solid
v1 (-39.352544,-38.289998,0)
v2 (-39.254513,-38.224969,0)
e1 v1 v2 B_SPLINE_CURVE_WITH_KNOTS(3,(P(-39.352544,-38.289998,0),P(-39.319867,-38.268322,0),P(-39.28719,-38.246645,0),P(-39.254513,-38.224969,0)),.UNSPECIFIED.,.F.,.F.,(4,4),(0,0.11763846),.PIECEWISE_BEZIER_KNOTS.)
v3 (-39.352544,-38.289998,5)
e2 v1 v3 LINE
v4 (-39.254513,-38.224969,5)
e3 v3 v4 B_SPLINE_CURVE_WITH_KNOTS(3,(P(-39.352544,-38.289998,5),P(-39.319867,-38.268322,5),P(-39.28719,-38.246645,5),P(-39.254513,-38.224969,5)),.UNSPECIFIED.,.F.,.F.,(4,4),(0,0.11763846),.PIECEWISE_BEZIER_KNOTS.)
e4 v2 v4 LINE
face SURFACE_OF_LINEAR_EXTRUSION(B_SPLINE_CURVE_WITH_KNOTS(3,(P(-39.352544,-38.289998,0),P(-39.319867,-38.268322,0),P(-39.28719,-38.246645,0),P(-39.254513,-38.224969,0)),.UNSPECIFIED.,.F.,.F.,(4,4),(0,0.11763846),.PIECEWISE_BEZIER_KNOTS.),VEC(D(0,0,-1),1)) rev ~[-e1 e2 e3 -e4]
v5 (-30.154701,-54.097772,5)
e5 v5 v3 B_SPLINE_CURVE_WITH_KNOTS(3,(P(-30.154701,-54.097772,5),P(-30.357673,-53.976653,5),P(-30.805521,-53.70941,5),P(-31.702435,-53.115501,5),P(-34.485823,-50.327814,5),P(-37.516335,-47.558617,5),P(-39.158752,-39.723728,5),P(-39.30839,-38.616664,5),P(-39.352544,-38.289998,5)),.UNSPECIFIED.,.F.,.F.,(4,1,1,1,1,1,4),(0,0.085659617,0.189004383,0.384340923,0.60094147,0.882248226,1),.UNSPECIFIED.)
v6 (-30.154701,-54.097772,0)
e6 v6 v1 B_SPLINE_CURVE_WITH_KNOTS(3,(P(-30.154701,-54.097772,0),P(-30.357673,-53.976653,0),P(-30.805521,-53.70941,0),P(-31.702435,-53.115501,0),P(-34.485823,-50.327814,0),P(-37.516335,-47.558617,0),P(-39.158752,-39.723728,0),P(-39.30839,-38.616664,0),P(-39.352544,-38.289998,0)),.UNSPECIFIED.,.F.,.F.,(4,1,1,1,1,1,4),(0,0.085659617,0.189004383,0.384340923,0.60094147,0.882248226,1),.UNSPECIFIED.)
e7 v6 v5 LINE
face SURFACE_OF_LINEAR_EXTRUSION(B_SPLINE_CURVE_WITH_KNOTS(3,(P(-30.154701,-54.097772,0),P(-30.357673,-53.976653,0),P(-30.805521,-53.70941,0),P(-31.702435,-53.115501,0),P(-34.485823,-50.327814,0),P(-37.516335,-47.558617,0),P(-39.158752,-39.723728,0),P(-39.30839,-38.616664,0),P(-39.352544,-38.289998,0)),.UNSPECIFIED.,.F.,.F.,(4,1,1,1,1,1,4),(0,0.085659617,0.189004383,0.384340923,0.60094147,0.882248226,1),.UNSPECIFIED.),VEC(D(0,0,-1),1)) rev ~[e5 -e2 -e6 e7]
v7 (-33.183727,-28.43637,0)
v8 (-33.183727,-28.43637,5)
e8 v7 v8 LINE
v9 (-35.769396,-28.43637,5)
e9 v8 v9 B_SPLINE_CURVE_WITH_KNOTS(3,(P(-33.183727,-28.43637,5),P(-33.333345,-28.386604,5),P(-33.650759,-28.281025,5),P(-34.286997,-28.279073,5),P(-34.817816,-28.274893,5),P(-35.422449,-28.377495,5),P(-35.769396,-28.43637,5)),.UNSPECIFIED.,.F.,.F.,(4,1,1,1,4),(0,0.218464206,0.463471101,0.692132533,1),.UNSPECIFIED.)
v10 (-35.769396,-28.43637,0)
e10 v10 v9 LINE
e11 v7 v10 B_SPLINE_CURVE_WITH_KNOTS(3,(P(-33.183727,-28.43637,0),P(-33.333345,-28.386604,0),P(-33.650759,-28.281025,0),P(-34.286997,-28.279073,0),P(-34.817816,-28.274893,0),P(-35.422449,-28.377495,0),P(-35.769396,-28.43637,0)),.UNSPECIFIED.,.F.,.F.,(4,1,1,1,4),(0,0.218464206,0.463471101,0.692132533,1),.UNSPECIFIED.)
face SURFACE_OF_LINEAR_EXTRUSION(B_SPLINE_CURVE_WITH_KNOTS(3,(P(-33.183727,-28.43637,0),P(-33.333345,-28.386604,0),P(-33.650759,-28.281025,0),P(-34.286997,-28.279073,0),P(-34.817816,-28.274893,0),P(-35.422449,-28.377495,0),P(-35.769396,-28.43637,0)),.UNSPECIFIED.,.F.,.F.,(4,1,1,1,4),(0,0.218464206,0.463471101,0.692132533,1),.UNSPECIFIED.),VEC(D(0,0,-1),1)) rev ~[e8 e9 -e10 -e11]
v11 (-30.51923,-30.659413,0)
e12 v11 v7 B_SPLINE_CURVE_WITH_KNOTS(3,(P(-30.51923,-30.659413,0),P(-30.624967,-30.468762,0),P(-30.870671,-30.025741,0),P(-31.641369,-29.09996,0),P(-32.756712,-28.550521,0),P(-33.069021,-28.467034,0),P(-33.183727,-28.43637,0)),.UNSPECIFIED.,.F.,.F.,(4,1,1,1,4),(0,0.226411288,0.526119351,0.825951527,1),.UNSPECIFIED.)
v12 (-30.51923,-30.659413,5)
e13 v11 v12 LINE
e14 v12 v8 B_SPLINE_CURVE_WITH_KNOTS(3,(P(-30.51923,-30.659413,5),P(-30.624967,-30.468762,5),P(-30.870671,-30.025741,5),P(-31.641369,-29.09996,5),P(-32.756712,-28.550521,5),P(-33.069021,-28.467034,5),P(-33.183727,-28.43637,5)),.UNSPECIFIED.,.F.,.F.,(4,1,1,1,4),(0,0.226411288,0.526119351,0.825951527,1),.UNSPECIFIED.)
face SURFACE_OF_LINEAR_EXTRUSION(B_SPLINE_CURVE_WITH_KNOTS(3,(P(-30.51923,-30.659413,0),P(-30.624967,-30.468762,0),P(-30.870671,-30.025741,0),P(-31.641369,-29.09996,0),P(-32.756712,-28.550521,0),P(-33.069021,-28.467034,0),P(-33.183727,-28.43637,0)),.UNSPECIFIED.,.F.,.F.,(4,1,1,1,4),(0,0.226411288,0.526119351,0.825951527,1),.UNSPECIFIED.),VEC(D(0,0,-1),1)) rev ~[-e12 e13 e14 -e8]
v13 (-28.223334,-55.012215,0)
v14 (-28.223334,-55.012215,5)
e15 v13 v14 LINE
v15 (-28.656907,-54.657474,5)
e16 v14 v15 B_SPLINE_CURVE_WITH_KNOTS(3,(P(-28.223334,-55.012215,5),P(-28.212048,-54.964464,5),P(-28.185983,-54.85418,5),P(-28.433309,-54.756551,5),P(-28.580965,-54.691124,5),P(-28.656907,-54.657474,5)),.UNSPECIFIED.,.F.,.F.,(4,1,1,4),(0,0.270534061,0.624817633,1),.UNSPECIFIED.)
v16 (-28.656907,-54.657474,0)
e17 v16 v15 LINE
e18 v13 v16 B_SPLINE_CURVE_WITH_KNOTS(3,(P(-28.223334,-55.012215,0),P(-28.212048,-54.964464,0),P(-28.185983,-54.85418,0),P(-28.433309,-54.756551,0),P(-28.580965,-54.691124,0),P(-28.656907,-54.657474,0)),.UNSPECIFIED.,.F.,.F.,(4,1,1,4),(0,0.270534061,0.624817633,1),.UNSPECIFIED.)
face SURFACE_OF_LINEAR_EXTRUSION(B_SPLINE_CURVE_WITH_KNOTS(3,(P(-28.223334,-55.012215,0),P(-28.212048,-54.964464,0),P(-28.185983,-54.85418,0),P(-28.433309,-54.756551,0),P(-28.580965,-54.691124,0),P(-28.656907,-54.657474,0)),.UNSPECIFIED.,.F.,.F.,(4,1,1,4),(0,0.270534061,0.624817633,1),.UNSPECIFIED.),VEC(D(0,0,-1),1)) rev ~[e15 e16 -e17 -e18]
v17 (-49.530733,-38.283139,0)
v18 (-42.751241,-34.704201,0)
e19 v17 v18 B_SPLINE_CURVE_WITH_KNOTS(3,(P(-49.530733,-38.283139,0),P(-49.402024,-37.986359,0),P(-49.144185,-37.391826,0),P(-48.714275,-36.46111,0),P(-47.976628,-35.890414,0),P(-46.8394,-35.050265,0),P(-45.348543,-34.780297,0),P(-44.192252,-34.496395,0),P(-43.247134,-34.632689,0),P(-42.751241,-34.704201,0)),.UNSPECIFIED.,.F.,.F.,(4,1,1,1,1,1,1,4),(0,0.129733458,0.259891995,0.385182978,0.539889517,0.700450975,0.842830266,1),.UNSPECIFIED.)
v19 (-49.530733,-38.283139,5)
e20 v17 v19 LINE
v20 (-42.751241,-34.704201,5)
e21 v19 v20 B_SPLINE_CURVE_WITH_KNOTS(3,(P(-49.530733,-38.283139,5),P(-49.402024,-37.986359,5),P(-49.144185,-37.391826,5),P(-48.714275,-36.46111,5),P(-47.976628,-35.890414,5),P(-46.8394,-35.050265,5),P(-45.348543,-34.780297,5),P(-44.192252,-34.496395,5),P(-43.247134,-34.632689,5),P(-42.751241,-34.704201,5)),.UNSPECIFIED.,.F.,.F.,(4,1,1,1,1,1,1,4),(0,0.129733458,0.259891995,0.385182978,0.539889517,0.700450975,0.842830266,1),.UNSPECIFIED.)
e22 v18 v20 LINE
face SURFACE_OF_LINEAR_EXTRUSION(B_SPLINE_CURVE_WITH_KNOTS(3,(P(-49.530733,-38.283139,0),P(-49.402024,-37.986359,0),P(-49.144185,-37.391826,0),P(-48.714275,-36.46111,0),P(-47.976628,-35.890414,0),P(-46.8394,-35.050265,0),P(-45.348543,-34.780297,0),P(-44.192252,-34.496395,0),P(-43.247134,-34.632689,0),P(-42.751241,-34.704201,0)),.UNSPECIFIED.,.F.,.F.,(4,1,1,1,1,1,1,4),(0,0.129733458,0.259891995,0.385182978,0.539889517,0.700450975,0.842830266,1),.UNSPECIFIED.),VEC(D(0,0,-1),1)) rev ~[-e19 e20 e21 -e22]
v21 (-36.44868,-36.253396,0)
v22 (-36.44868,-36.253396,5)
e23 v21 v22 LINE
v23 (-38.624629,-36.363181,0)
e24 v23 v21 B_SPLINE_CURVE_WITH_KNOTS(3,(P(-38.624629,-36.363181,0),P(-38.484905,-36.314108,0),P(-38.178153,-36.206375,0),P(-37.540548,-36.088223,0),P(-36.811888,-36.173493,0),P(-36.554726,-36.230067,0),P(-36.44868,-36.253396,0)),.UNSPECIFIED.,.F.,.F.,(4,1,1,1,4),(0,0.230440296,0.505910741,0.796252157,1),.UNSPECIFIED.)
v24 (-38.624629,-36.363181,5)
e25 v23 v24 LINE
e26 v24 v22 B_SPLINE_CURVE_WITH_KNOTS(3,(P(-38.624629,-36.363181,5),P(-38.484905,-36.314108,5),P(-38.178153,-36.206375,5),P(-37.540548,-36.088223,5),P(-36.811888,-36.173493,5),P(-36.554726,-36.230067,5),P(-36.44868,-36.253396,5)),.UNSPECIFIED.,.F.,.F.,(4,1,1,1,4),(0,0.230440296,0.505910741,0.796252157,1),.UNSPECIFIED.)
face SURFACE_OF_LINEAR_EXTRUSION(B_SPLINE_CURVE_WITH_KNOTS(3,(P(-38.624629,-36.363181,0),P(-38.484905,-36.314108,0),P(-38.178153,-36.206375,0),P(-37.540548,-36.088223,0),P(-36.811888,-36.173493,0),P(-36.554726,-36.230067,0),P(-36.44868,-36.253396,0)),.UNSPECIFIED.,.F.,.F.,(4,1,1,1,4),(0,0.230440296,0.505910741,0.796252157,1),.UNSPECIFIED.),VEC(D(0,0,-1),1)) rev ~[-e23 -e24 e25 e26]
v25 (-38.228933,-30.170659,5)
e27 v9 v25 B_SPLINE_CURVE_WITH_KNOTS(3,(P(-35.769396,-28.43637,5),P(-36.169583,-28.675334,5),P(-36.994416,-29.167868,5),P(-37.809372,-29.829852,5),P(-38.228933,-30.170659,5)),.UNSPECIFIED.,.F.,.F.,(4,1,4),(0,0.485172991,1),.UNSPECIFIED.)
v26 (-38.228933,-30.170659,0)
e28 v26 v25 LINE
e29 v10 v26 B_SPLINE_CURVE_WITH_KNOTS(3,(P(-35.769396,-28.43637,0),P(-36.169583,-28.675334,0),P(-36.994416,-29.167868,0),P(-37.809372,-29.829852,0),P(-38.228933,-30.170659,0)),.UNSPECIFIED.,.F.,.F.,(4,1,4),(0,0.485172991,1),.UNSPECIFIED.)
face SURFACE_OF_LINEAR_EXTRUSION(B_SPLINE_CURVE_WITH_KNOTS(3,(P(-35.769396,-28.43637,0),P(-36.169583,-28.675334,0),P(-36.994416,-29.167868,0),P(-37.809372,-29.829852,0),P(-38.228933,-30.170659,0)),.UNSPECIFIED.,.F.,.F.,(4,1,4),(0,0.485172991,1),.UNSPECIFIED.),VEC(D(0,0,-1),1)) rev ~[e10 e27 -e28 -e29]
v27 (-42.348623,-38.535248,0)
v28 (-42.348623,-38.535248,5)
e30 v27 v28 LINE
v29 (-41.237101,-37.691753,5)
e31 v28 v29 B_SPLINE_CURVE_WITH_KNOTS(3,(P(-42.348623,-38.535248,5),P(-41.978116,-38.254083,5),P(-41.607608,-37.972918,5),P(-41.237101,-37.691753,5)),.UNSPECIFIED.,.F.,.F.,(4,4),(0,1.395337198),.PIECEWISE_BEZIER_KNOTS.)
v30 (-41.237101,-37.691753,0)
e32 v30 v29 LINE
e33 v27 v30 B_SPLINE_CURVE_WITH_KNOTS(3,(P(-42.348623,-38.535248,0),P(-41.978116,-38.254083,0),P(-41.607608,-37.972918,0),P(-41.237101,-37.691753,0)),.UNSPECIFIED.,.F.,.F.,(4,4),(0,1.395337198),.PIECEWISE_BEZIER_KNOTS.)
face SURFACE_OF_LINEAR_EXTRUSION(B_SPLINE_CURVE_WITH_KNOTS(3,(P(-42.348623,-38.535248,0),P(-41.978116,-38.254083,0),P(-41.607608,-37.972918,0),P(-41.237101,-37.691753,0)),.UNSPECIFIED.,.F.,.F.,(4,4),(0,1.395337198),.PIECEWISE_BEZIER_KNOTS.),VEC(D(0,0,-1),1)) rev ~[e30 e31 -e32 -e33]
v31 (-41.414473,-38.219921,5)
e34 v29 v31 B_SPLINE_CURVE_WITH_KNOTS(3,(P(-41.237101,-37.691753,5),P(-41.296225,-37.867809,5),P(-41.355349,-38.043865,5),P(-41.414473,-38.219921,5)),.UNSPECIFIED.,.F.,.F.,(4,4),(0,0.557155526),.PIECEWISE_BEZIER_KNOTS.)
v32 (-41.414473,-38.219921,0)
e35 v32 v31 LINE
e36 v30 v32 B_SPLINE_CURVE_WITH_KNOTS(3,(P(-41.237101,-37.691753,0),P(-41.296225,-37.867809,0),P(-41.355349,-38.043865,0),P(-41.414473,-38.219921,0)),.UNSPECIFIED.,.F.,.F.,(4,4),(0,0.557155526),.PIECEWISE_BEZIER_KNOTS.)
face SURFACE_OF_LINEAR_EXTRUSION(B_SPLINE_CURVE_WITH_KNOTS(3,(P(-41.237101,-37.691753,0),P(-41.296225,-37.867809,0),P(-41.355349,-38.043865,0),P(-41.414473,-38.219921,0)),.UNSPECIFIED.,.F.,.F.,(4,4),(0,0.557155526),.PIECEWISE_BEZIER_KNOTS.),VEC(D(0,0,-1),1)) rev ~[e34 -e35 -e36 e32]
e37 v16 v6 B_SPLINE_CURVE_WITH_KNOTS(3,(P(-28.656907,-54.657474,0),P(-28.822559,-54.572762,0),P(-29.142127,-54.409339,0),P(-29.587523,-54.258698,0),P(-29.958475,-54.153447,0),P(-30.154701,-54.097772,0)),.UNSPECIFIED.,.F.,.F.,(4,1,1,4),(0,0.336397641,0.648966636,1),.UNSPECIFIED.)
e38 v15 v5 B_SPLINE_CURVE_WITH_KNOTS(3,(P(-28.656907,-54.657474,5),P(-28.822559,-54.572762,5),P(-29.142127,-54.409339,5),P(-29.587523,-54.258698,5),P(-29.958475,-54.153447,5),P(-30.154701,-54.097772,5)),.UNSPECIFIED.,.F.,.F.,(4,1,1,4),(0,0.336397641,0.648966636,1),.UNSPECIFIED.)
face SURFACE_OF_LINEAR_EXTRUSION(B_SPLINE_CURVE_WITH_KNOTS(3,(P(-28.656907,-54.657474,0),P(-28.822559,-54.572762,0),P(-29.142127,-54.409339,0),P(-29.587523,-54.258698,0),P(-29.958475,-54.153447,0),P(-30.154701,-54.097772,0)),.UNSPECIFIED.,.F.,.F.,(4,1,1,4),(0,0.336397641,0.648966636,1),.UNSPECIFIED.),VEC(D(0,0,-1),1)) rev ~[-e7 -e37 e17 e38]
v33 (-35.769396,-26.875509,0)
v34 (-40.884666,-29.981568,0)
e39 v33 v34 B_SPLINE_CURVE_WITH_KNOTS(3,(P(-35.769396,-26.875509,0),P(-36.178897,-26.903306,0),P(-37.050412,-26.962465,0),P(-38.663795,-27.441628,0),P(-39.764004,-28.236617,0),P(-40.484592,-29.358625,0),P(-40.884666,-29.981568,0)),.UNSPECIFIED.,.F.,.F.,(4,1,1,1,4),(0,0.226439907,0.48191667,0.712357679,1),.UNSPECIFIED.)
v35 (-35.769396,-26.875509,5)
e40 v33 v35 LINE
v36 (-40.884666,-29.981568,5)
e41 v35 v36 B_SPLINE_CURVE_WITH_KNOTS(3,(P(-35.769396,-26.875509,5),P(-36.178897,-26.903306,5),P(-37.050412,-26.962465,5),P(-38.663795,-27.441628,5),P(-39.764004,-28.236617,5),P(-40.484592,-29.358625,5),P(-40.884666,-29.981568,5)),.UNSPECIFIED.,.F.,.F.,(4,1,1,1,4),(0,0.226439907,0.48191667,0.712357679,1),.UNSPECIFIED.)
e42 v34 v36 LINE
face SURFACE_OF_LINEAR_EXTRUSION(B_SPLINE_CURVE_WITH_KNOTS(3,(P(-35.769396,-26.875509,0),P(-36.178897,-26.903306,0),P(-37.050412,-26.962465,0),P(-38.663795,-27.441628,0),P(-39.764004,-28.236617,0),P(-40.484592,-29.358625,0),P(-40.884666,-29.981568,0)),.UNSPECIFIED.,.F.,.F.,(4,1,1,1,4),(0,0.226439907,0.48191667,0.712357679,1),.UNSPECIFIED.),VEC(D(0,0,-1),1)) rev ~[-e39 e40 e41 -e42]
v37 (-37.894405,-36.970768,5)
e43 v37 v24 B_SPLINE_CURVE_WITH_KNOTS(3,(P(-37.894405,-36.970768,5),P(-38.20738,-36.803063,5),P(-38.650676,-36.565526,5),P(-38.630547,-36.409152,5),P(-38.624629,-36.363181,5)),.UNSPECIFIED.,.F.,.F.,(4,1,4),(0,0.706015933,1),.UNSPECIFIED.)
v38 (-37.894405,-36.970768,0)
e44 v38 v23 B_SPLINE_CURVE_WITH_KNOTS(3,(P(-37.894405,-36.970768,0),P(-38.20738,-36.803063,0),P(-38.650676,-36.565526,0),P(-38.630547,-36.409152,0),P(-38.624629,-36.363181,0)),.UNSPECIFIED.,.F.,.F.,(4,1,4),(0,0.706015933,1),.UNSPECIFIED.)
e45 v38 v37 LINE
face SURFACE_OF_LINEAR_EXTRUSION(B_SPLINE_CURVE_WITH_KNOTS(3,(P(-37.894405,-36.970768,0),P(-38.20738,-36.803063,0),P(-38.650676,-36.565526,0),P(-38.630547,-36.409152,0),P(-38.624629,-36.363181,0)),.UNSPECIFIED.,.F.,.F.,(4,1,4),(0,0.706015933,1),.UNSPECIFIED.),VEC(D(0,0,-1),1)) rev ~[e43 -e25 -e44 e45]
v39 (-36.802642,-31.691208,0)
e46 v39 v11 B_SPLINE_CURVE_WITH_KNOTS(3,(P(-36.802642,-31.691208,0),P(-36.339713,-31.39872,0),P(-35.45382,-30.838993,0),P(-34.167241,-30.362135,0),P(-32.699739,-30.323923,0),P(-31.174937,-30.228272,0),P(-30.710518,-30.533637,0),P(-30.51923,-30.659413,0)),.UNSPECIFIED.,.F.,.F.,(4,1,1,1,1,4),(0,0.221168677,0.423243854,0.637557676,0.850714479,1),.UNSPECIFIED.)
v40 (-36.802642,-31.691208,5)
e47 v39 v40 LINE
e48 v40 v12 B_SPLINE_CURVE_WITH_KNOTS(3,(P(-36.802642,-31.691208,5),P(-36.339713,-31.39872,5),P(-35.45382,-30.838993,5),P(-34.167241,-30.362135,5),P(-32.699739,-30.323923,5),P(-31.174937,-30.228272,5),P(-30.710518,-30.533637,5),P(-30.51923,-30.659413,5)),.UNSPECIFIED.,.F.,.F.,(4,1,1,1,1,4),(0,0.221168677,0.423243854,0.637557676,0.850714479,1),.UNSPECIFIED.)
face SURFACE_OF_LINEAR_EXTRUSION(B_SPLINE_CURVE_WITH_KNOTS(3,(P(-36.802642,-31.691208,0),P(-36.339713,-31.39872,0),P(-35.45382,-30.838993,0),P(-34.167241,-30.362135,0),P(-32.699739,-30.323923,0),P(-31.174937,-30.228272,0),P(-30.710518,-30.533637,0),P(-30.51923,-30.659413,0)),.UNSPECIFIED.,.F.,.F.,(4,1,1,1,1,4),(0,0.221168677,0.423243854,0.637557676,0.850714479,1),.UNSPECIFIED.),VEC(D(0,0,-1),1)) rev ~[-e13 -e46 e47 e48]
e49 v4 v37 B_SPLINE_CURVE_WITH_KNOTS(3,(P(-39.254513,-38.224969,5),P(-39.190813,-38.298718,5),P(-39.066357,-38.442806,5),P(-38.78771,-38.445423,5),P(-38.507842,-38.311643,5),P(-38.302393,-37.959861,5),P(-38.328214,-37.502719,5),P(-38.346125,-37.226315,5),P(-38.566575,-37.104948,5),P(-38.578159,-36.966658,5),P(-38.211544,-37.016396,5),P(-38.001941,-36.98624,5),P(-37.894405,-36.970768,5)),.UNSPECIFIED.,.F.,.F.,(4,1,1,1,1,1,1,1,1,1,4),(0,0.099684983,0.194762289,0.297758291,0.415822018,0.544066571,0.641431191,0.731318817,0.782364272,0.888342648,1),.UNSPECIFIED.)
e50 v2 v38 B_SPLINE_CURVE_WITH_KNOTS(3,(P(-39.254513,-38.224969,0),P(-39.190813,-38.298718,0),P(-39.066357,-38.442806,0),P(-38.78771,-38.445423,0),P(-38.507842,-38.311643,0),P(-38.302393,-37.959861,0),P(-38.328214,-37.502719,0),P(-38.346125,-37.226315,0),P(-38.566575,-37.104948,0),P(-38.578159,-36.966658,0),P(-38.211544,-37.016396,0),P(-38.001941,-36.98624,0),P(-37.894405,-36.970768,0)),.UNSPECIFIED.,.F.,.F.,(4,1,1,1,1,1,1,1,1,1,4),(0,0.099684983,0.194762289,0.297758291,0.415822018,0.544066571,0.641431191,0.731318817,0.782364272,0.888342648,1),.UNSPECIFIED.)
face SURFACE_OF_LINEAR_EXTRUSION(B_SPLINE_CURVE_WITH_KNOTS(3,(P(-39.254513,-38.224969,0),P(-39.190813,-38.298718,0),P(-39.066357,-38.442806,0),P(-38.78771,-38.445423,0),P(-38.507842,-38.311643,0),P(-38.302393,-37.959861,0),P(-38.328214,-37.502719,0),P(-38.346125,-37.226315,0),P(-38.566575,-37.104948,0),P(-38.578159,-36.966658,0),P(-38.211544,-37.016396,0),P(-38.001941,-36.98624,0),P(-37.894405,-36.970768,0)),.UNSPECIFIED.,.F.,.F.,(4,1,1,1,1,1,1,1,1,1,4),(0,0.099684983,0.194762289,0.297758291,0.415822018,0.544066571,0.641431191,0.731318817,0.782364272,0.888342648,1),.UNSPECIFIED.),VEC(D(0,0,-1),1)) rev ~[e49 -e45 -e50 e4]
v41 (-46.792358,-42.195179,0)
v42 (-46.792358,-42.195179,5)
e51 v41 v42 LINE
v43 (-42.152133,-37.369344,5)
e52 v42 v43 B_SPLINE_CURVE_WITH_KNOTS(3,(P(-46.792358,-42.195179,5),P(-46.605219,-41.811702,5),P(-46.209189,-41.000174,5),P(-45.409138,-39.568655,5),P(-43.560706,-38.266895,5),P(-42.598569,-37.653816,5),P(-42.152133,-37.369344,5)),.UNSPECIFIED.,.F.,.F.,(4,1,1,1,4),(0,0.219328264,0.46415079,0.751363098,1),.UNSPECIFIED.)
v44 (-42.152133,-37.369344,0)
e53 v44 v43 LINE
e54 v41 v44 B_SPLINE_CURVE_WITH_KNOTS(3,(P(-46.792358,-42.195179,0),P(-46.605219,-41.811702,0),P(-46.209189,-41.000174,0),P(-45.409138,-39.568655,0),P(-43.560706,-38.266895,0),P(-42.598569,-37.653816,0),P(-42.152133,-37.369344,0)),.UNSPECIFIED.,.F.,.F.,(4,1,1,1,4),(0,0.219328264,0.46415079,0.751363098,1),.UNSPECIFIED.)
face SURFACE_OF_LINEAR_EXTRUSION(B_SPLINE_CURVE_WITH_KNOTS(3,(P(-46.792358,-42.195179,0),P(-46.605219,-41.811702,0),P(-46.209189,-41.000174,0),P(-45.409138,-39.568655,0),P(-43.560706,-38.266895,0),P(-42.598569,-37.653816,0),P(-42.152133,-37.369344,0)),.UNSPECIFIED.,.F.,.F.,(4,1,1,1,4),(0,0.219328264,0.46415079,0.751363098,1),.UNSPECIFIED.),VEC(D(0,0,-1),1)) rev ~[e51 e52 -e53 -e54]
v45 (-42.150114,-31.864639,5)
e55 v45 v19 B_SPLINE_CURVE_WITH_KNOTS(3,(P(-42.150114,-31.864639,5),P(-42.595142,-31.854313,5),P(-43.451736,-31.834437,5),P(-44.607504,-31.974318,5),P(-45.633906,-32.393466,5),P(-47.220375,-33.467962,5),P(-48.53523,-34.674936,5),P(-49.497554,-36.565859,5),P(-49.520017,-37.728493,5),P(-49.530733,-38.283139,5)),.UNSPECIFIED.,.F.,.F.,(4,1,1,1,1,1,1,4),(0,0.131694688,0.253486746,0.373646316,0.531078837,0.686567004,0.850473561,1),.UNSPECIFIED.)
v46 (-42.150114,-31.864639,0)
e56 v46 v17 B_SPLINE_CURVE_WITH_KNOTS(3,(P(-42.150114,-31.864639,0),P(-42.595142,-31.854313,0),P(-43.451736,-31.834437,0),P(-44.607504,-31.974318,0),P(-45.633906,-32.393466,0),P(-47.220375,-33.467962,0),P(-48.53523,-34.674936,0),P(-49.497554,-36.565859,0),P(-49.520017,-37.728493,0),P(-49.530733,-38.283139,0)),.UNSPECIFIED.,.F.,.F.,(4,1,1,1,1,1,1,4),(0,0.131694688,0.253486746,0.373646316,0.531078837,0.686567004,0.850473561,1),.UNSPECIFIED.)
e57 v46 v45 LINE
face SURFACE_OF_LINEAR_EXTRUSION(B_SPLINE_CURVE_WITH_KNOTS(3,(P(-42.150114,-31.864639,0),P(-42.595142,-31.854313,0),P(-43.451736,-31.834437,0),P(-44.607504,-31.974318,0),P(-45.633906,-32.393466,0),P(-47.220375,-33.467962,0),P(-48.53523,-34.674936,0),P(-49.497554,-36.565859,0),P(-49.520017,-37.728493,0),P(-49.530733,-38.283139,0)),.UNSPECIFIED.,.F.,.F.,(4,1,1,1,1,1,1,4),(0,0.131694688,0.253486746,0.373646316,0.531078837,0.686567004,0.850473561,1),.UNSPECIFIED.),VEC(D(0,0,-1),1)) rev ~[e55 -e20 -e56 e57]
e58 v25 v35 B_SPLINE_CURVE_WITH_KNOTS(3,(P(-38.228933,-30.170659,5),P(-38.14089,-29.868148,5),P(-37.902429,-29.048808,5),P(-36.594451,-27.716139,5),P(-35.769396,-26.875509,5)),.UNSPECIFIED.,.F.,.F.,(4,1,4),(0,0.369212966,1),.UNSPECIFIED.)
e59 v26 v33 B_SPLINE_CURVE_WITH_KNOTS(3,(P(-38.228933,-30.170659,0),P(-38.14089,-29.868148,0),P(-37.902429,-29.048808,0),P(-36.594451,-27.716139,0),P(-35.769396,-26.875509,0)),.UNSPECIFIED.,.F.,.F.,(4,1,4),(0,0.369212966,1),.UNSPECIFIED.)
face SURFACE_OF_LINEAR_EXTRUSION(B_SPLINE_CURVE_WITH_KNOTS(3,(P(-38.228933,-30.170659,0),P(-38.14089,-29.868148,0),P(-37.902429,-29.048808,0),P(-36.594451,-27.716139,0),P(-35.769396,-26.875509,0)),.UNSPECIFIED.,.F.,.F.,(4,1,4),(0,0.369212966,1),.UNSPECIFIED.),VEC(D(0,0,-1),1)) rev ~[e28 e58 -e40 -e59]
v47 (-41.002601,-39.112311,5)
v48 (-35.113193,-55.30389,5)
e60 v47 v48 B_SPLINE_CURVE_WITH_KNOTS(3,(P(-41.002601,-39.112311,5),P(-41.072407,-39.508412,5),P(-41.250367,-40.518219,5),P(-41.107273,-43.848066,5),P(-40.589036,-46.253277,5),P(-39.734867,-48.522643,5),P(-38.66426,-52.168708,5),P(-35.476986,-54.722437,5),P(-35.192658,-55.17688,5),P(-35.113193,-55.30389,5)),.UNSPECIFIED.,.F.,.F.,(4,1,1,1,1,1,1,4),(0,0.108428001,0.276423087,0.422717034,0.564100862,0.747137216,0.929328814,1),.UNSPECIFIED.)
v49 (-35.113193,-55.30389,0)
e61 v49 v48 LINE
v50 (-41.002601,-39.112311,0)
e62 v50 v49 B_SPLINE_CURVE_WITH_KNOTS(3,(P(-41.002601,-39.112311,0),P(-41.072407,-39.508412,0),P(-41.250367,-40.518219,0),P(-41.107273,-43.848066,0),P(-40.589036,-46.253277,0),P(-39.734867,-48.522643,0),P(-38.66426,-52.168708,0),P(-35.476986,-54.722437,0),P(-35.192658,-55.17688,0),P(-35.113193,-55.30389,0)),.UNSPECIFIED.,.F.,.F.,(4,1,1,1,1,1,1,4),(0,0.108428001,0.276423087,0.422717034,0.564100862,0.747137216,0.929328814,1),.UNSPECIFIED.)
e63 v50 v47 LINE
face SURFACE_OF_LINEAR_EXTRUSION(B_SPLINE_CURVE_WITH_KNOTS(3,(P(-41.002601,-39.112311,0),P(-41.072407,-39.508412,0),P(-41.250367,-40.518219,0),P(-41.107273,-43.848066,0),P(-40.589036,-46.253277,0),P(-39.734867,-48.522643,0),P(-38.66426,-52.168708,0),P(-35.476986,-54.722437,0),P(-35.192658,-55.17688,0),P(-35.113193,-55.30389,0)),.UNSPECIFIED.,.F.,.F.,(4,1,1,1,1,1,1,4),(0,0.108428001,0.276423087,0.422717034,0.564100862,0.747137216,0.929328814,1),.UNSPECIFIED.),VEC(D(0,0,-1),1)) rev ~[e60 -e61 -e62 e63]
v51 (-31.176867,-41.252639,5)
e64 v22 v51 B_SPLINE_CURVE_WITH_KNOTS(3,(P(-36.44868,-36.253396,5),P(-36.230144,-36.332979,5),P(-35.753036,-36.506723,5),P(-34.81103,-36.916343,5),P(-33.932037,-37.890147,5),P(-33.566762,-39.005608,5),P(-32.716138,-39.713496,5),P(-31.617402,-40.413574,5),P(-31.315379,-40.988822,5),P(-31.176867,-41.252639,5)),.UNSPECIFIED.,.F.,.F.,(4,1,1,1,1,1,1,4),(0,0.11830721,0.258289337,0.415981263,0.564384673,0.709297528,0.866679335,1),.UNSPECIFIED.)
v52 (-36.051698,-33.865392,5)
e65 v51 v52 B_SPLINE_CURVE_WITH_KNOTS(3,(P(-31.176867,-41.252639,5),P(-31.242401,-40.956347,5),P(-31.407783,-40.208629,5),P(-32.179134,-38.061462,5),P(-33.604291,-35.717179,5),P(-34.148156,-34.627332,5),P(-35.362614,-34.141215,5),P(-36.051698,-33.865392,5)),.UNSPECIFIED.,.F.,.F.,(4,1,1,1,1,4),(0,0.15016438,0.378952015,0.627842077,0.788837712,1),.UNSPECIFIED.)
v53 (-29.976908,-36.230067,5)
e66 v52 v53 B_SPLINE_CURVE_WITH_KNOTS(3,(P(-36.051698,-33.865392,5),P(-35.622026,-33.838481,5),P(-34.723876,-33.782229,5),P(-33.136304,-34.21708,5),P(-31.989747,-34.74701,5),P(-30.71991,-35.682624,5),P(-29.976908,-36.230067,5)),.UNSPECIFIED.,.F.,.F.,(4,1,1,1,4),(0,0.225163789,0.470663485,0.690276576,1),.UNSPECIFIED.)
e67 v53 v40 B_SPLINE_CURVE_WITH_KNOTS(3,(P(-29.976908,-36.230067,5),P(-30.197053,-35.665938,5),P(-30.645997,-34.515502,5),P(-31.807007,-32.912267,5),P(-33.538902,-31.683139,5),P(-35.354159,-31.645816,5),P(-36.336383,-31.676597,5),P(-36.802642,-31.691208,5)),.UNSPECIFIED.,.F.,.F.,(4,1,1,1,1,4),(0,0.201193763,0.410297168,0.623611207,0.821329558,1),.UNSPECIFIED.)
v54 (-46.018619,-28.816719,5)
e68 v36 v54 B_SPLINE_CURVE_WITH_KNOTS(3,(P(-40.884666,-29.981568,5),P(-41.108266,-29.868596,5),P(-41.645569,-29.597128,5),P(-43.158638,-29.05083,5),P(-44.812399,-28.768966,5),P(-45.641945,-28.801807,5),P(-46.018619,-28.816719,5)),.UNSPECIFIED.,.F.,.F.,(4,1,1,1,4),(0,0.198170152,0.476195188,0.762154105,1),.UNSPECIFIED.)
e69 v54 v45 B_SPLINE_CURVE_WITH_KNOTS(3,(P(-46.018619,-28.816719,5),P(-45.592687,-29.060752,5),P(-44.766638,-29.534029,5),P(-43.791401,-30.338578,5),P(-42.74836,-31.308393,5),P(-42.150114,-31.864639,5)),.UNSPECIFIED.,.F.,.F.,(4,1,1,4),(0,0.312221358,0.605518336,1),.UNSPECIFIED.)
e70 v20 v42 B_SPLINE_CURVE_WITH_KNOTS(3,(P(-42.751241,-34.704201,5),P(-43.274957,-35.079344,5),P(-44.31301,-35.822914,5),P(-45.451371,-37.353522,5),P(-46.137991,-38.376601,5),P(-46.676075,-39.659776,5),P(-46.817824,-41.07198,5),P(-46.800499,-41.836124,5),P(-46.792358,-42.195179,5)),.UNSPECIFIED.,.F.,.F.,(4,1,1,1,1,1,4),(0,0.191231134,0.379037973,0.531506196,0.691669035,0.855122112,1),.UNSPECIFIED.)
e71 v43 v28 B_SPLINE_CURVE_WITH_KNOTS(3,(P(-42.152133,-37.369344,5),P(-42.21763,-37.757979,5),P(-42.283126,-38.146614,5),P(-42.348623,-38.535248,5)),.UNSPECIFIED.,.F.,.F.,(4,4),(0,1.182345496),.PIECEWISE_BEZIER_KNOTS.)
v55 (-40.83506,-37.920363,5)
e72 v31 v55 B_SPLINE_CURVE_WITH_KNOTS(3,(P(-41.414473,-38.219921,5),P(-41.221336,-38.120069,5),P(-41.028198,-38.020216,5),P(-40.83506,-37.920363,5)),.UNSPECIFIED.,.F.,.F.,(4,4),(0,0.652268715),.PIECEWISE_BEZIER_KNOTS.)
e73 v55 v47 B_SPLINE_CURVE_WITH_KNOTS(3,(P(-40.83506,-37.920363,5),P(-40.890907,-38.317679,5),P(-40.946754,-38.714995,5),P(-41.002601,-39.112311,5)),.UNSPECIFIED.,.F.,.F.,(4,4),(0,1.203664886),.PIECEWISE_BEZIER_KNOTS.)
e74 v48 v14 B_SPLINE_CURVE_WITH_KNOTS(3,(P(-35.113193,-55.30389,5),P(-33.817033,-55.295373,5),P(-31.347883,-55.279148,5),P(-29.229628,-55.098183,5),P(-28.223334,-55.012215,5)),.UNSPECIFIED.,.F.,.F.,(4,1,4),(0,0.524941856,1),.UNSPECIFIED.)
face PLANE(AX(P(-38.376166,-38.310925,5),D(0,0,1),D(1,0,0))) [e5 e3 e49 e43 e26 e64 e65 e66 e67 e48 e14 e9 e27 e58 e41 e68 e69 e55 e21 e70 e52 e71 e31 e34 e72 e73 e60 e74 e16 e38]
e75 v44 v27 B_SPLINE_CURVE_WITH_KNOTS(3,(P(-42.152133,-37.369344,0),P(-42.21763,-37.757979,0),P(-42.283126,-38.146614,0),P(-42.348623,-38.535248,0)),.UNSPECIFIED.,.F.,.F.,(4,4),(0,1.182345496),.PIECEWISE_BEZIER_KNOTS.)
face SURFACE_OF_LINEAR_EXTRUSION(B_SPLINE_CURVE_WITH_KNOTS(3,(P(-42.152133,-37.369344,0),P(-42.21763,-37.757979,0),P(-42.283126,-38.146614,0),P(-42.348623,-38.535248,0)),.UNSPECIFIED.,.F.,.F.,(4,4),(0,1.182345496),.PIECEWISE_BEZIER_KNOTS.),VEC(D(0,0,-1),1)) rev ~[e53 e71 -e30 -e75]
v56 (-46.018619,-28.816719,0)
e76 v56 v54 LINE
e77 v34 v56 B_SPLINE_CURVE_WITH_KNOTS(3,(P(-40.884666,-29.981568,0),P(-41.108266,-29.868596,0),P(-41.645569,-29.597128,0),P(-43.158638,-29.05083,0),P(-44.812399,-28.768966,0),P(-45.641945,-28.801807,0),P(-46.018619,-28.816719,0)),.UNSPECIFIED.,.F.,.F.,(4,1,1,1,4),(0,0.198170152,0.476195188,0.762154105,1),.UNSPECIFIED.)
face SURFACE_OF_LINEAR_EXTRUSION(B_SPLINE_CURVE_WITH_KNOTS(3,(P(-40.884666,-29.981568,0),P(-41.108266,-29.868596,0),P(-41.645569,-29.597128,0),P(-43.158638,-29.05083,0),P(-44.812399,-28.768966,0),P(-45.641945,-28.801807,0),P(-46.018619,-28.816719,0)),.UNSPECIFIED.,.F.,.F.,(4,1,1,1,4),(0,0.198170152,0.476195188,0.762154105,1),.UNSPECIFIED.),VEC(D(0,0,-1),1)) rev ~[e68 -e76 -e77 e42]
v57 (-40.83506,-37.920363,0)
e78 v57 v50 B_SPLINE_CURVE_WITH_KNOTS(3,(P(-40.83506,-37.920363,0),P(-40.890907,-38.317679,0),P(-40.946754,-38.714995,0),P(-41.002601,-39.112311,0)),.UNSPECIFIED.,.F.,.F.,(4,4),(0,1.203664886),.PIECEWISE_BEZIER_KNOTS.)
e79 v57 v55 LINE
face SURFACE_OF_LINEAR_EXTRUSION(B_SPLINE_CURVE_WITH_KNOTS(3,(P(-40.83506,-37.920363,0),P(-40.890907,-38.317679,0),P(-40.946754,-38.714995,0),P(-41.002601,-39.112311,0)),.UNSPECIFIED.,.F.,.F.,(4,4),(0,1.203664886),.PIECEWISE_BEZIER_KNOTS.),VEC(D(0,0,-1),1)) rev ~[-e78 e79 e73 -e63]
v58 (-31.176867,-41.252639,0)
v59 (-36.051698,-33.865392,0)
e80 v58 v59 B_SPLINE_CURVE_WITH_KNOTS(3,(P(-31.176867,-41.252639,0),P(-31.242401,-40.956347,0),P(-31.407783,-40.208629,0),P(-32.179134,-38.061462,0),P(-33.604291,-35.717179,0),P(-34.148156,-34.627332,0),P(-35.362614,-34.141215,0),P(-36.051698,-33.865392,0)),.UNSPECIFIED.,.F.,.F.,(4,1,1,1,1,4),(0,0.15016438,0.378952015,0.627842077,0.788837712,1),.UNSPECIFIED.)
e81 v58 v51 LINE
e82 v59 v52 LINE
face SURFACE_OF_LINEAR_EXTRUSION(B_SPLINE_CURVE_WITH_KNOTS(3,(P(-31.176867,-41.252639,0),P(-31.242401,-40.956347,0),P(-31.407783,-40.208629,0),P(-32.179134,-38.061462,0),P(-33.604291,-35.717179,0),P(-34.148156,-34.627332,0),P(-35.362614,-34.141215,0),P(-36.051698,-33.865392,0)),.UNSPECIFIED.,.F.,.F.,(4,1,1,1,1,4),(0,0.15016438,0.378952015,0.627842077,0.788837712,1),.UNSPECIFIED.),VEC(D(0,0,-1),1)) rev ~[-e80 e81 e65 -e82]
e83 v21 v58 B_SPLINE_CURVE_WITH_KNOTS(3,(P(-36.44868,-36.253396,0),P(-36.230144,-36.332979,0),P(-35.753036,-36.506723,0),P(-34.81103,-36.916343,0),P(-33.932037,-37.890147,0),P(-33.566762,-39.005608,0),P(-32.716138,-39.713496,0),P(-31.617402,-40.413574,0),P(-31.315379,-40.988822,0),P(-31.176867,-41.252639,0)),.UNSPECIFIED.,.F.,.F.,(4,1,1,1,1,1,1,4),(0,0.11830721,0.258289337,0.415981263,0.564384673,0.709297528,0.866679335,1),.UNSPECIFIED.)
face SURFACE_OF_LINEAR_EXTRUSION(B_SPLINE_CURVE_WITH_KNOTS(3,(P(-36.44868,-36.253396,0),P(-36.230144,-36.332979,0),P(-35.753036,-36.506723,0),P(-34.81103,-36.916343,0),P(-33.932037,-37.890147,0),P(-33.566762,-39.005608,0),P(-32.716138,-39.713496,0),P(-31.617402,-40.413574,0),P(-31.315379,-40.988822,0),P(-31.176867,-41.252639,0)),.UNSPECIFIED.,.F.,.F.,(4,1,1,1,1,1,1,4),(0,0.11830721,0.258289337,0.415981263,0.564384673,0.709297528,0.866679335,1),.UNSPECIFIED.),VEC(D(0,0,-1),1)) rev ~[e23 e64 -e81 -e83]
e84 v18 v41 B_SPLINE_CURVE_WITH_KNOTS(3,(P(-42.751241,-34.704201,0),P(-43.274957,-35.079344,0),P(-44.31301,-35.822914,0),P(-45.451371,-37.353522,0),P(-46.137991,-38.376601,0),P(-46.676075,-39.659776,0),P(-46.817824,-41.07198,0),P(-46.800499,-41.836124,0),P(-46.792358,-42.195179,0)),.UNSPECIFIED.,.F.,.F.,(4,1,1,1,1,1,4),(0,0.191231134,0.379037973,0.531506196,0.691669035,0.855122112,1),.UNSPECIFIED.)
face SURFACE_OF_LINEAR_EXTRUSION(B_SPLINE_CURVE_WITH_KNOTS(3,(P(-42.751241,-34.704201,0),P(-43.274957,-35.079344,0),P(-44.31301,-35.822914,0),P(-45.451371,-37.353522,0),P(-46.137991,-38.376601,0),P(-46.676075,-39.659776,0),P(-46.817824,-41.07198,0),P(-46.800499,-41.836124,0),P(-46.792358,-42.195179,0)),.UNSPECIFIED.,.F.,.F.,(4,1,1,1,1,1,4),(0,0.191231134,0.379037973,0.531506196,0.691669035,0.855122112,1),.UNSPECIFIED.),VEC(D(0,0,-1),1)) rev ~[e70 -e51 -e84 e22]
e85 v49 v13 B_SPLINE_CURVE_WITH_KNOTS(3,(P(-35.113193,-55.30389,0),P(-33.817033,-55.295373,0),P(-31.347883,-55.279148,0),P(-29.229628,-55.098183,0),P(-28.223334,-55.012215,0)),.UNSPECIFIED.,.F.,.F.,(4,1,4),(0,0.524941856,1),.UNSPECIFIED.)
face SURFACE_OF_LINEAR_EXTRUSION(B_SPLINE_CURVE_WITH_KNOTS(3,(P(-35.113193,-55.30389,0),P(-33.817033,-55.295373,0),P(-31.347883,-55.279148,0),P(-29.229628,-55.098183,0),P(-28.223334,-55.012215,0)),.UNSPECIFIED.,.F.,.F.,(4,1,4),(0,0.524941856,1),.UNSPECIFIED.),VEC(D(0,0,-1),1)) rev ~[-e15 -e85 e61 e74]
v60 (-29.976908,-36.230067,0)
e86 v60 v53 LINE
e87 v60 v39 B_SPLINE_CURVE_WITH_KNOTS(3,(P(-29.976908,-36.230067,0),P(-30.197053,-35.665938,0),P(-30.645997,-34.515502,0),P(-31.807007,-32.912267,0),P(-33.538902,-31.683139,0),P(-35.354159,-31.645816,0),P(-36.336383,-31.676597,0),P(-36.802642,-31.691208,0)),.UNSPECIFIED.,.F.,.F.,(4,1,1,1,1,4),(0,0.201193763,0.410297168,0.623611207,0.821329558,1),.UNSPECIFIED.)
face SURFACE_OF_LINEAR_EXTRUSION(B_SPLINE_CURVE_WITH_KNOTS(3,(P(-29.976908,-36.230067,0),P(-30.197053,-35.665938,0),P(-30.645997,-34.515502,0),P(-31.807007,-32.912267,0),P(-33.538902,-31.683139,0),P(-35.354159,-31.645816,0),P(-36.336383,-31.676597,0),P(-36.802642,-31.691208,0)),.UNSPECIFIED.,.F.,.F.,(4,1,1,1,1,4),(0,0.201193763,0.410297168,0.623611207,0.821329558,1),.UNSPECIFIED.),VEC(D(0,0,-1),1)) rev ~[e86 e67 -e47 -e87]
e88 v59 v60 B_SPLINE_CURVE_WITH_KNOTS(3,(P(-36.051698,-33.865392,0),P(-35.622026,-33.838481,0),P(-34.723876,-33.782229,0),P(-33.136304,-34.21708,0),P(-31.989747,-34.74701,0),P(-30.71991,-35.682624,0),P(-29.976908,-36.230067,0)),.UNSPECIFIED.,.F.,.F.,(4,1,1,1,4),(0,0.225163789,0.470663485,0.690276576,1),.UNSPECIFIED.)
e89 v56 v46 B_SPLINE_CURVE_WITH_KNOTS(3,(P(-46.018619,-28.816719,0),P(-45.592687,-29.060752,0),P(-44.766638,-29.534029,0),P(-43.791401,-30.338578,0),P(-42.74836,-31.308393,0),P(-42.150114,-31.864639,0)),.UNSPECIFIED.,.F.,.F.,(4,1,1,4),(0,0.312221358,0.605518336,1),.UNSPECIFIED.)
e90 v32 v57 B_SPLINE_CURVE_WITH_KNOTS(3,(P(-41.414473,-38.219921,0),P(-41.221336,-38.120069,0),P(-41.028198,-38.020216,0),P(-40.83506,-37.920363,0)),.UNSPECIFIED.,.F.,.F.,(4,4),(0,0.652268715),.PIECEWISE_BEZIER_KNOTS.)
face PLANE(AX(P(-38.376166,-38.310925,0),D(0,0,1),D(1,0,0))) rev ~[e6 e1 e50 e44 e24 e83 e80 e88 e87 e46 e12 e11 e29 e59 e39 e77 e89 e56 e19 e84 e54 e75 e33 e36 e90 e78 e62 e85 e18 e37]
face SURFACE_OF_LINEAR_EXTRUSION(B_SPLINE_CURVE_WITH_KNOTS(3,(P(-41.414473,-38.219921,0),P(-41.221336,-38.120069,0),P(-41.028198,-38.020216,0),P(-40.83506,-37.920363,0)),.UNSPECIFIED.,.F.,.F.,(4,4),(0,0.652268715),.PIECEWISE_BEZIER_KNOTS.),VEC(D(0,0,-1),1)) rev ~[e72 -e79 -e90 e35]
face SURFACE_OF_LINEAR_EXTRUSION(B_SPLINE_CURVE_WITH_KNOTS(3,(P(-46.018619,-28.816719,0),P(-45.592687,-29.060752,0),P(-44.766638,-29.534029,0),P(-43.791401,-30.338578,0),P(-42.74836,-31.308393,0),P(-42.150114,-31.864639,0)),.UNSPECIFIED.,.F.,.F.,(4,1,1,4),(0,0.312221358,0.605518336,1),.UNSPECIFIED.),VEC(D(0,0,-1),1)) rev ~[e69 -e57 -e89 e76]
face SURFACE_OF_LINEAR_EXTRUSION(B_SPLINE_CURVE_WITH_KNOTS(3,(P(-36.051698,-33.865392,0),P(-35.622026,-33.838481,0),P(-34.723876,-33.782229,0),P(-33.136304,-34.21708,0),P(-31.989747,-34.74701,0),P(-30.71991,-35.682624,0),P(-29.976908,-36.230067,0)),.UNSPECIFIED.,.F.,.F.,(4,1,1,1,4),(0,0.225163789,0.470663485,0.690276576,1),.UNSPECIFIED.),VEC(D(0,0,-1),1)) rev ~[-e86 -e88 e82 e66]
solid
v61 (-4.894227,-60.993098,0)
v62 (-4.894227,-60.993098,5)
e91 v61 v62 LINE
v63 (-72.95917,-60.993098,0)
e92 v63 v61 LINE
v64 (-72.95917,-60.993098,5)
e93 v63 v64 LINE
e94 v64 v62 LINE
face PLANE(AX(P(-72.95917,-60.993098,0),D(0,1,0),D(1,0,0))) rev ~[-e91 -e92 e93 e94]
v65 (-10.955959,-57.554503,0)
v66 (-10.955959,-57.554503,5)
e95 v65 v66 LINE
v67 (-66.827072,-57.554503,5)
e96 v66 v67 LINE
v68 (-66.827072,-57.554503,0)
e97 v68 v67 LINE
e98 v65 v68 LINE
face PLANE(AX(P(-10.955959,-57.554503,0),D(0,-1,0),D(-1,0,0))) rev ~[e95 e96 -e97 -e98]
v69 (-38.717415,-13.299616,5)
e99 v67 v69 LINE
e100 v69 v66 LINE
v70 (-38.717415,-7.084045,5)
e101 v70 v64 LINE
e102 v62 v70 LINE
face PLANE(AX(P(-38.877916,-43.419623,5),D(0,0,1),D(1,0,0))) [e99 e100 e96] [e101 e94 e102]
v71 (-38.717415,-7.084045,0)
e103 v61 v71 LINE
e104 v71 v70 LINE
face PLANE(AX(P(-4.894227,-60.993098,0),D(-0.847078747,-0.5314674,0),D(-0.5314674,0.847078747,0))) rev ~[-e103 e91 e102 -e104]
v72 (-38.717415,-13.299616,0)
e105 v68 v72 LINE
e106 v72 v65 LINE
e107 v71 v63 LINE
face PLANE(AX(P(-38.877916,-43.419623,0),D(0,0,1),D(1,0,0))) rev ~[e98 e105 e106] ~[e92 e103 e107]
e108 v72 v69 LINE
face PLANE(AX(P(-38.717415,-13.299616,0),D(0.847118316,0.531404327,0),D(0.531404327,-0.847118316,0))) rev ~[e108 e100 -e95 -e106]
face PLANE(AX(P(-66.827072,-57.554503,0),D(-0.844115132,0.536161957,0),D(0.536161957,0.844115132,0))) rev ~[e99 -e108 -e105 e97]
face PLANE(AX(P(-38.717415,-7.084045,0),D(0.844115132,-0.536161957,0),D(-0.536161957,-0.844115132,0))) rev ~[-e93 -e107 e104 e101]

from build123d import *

# Parameters (mm, degrees)
F1_DEPTH = 5


with BuildPart() as f1:
    # F0 (on Top) → F1 (new body)
    with BuildSketch(Plane.XY):
        Polygon((-4.8942267895, -60.9930977225), (-38.7174151838, -7.0840450935), (-72.9591697454, -60.9930977225), align=None)
        Polygon((-66.8270720302, -57.5545028058), (-38.7174151838, -13.2996160537), (-10.9559586272, -57.5545028058), align=None, mode=Mode.SUBTRACT)
    extrude(amount=F1_DEPTH)


with BuildPart() as f1b:
    # F0 (on Top) → F1, piece 2 (new body)
    with BuildSketch(Plane.XY):
        with BuildLine():
            add(Edge.make_bspline(
                [(-41.0026013851, -39.1123108566), (-41.0724070062, -39.5084117403), (-41.2503673588, -40.5182194307), (-41.1072732868, -43.8480663355), (-40.5890359944, -46.2532768009), (-39.7348674665, -48.5226430333), (-38.6642597215, -52.168707541), (-35.4769859375, -54.7224372445), (-35.1926582325, -55.176880492), (-35.1131930947, -55.3038902581)],
                knots=[0, 0, 0, 0, 0.1084280006, 0.2764230866, 0.4227170343, 0.5641008624, 0.7471372156, 0.9293288144, 1, 1, 1, 1], degree=3))
            add(Edge.make_bspline(
                [(-35.1131930947, -55.3038902581), (-33.8170327867, -55.2953728987), (-31.3478825499, -55.2791475602), (-29.2296279697, -55.0981834183), (-28.2233338803, -55.0122149289)],
                knots=[0, 0, 0, 0, 0.524941856, 1, 1, 1, 1], degree=3))
            add(Edge.make_bspline(
                [(-28.2233338803, -55.0122149289), (-28.2120480712, -54.9644639355), (-28.1859826933, -54.8541796239), (-28.4333094971, -54.7565506125), (-28.5809646725, -54.6911244521), (-28.6569073796, -54.6574741602)],
                knots=[0, 0, 0, 0, 0.2705340607, 0.6248176327, 1, 1, 1, 1], degree=3))
            add(Edge.make_bspline(
                [(-28.6569073796, -54.6574741602), (-28.822558529, -54.572762208), (-29.1421269682, -54.4093388545), (-29.5875229688, -54.2586980753), (-29.958474715, -54.1534473369), (-30.1547013223, -54.0977716446)],
                knots=[0, 0, 0, 0, 0.336397641, 0.6489666356, 1, 1, 1, 1], degree=3))
            add(Edge.make_bspline(
                [(-30.1547013223, -54.0977716446), (-30.3576729356, -53.9766530949), (-30.8055213578, -53.7094100529), (-31.7024352102, -53.1155011428), (-34.4858232768, -50.3278142701), (-37.5163353016, -47.558617296), (-39.1587519986, -39.7237280146), (-39.3083895188, -38.6166635917), (-39.3525436521, -38.2899977267)],
                knots=[0, 0, 0, 0, 0.0856596175, 0.1890043831, 0.3843409229, 0.6009414698, 0.8822482258, 1, 1, 1, 1], degree=3))
            add(Edge.make_bspline(
                [(-39.3525436521, -38.2899977267), (-39.3198666473, -38.2683215042), (-39.2871896426, -38.2466452817), (-39.2545126379, -38.2249690592)],
                knots=[0, 0, 0, 0, 0.1176384603, 0.1176384603, 0.1176384603, 0.1176384603], degree=3))
            add(Edge.make_bspline(
                [(-39.2545126379, -38.2249690592), (-39.1908127264, -38.2987175983), (-39.0663572649, -38.4428058437), (-38.7877097979, -38.4454227065), (-38.5078418773, -38.3116425574), (-38.3023927112, -37.9598611697), (-38.3282136337, -37.5027189579), (-38.3461248518, -37.2263149736), (-38.5665753787, -37.1049484623), (-38.578159471, -36.9666577611), (-38.2115435015, -37.0163962906), (-38.0019412341, -36.9862398134), (-37.8944054246, -36.9707681239)],
                knots=[0, 0, 0, 0, 0.0996849828, 0.1947622886, 0.2977582915, 0.4158220184, 0.544066571, 0.6414311906, 0.7313188166, 0.7823642723, 0.888342648, 1, 1, 1, 1], degree=3))
            add(Edge.make_bspline(
                [(-37.8944054246, -36.9707681239), (-38.2073795941, -36.8030629528), (-38.650675779, -36.5655255783), (-38.6305469371, -36.409152052), (-38.6246293783, -36.3631807268)],
                knots=[0, 0, 0, 0, 0.7060159329, 1, 1, 1, 1], degree=3))
            add(Edge.make_bspline(
                [(-38.6246293783, -36.3631807268), (-38.4849049714, -36.3141084847), (-38.1781527262, -36.2063748342), (-37.5405478199, -36.0882227676), (-36.8118881126, -36.1734927248), (-36.5547259557, -36.2300668999), (-36.4486798644, -36.2533964217)],
                knots=[0, 0, 0, 0, 0.230440296, 0.5059107408, 0.7962521573, 1, 1, 1, 1], degree=3))
            add(Edge.make_bspline(
                [(-36.4486798644, -36.2533964217), (-36.230144403, -36.3329785924), (-35.7530358709, -36.506723084), (-34.8110295609, -36.9163430156), (-33.9320374932, -37.8901471533), (-33.5667620954, -39.0056076716), (-32.7161382724, -39.7134959075), (-31.6174020131, -40.4135736361), (-31.3153792771, -40.9888215325), (-31.1768669635, -41.2526391447)],
                knots=[0, 0, 0, 0, 0.1183072105, 0.2582893374, 0.4159812625, 0.5643846735, 0.7092975277, 0.866679335, 1, 1, 1, 1], degree=3))
            add(Edge.make_bspline(
                [(-31.1768669635, -41.2526391447), (-31.2424013905, -40.9563467049), (-31.4077828418, -40.2086286581), (-32.1791337489, -38.0614619444), (-33.6042914479, -35.7171792287), (-34.1481555554, -34.6273319771), (-35.362614441, -34.1412148898), (-36.051698029, -33.8653922081)],
                knots=[0, 0, 0, 0, 0.1501643802, 0.3789520149, 0.6278420769, 0.788837712, 1, 1, 1, 1], degree=3))
            add(Edge.make_bspline(
                [(-36.051698029, -33.8653922081), (-35.6220260781, -33.8384813819), (-34.7238758966, -33.7822292496), (-33.136303993, -34.2170801435), (-31.9897469899, -34.7470101466), (-30.7199102783, -35.6826239887), (-29.9769081175, -36.2300668999)],
                knots=[0, 0, 0, 0, 0.2251637888, 0.4706634849, 0.6902765758, 1, 1, 1, 1], degree=3))
            add(Edge.make_bspline(
                [(-29.9769081175, -36.2300668999), (-30.1970530014, -35.6659379513), (-30.6459974471, -34.5155021401), (-31.807007287, -32.9122669106), (-33.5389017245, -31.6831385005), (-35.3541587103, -31.6458158581), (-36.3363834177, -31.6765968518), (-36.8026420474, -31.6912084818)],
                knots=[0, 0, 0, 0, 0.2011937629, 0.4102971676, 0.6236112069, 0.8213295577, 1, 1, 1, 1], degree=3))
            add(Edge.make_bspline(
                [(-36.8026420474, -31.6912084818), (-36.3397131577, -31.3987198187), (-35.4538200467, -30.8389930497), (-34.1672406782, -30.3621352408), (-32.6997385584, -30.3239225616), (-31.1749366514, -30.2282716001), (-30.7105184271, -30.5336368053), (-30.5192302912, -30.6594129652)],
                knots=[0, 0, 0, 0, 0.2211686772, 0.4232438542, 0.6375576759, 0.8507144791, 1, 1, 1, 1], degree=3))
            add(Edge.make_bspline(
                [(-30.5192302912, -30.6594129652), (-30.6249670161, -30.4687622554), (-30.870670919, -30.0257409348), (-31.6413690235, -29.0999595681), (-32.75671191, -28.5505210034), (-33.069021354, -28.4670336931), (-33.1837274134, -28.436370194)],
                knots=[0, 0, 0, 0, 0.2264112876, 0.5261193506, 0.8259515266, 1, 1, 1, 1], degree=3))
            add(Edge.make_bspline(
                [(-33.1837274134, -28.436370194), (-33.3333450989, -28.3866040351), (-33.6507585315, -28.281025291), (-34.2869970801, -28.2790731396), (-34.8178161453, -28.2748926944), (-35.4224490645, -28.3774953921), (-35.7693955302, -28.436370194)],
                knots=[0, 0, 0, 0, 0.2184642057, 0.4634711008, 0.6921325329, 1, 1, 1, 1], degree=3))
            add(Edge.make_bspline(
                [(-35.7693955302, -28.436370194), (-36.169582599, -28.6753343626), (-36.9944163729, -29.167868311), (-37.8093717358, -29.8298516834), (-38.2289327681, -30.1706586033)],
                knots=[0, 0, 0, 0, 0.4851729905, 1, 1, 1, 1], degree=3))
            add(Edge.make_bspline(
                [(-38.2289327681, -30.1706586033), (-38.140889795, -29.8681477255), (-37.9024285783, -29.0488079246), (-36.5944508944, -27.7161391397), (-35.7693955302, -26.8755089492)],
                knots=[0, 0, 0, 0, 0.3692129657, 1, 1, 1, 1], degree=3))
            add(Edge.make_bspline(
                [(-35.7693955302, -26.8755089492), (-36.1788971818, -26.9033059777), (-37.0504117258, -26.9624645051), (-38.6637951228, -27.4416283681), (-39.7640036754, -28.2366170272), (-40.4845920584, -29.3586245563), (-40.8846661448, -29.9815684557)],
                knots=[0, 0, 0, 0, 0.226439907, 0.4819166699, 0.712357679, 1, 1, 1, 1], degree=3))
            add(Edge.make_bspline(
                [(-40.8846661448, -29.9815684557), (-41.1082662493, -29.8685961526), (-41.645568628, -29.5971280899), (-43.1586380708, -29.0508301388), (-44.8123994469, -28.7689664398), (-45.6419446013, -28.8018067107), (-46.0186190903, -28.8167186081)],
                knots=[0, 0, 0, 0, 0.1981701515, 0.4761951882, 0.7621541048, 1, 1, 1, 1], degree=3))
            add(Edge.make_bspline(
                [(-46.0186190903, -28.8167186081), (-45.5926865296, -29.0607524025), (-44.7666380578, -29.5340286003), (-43.7914014061, -30.33857764), (-42.7483597259, -31.3083929975), (-42.1501137316, -31.8646393716)],
                knots=[0, 0, 0, 0, 0.3122213578, 0.605518336, 1, 1, 1, 1], degree=3))
            add(Edge.make_bspline(
                [(-42.1501137316, -31.8646393716), (-42.5951422734, -31.8543130797), (-43.4517359463, -31.8344369695), (-44.607503871, -31.9743175169), (-45.6339055514, -32.3934663765), (-47.2203752291, -33.4679618052), (-48.5352296377, -34.6749356831), (-49.4975537331, -36.5658591161), (-49.5200170297, -37.7284929974), (-49.5307333767, -38.2831394672)],
                knots=[0, 0, 0, 0, 0.1316946884, 0.2534867459, 0.373646316, 0.5310788366, 0.686567004, 0.8504735605, 1, 1, 1, 1], degree=3))
            add(Edge.make_bspline(
                [(-49.5307333767, -38.2831394672), (-49.4020244938, -37.9863592532), (-49.1441850058, -37.3918264073), (-48.7142748049, -36.4611101395), (-47.9766283249, -35.8904139933), (-46.8393997259, -35.0502654215), (-45.348542974, -34.7802965947), (-44.1922520478, -34.4963948825), (-43.247133627, -34.6326890368), (-42.7512414753, -34.7042009234)],
                knots=[0, 0, 0, 0, 0.1297334578, 0.2598919948, 0.3851829775, 0.5398895171, 0.7004509751, 0.8428302663, 1, 1, 1, 1], degree=3))
            add(Edge.make_bspline(
                [(-42.7512414753, -34.7042009234), (-43.2749571176, -35.0793444426), (-44.3130104475, -35.8229139445), (-45.4513706422, -37.3535222555), (-46.137990524, -38.3766014167), (-46.6760747583, -39.6597760724), (-46.8178240534, -41.0719798225), (-46.8004988767, -41.8361241029), (-46.79235816, -42.1951785684)],
                knots=[0, 0, 0, 0, 0.1912311339, 0.3790379727, 0.5315061964, 0.6916690353, 0.8551221117, 1, 1, 1, 1], degree=3))
            add(Edge.make_bspline(
                [(-46.79235816, -42.1951785684), (-46.6052192274, -41.8117017923), (-46.2091887212, -41.0001736959), (-45.4091383303, -39.5686546838), (-43.560705958, -38.2668950141), (-42.5985693675, -37.653816224), (-42.152132839, -37.3693443835)],
                knots=[0, 0, 0, 0, 0.2193282639, 0.46415079, 0.751363098, 1, 1, 1, 1], degree=3))
            add(Edge.make_bspline(
                [(-42.152132839, -37.3693443835), (-42.2176296512, -37.757979085), (-42.2831264635, -38.1466137866), (-42.3486232758, -38.5352484882)],
                knots=[0, 0, 0, 0, 1.1823454965, 1.1823454965, 1.1823454965, 1.1823454965], degree=3))
            add(Edge.make_bspline(
                [(-42.3486232758, -38.5352484882), (-41.9781158368, -38.2540834447), (-41.6076083978, -37.9729184012), (-41.2371009588, -37.6917533576)],
                knots=[0, 0, 0, 0, 1.3953371981, 1.3953371981, 1.3953371981, 1.3953371981], degree=3))
            add(Edge.make_bspline(
                [(-41.2371009588, -37.6917533576), (-41.2962250412, -37.8678093354), (-41.3553491235, -38.0438653131), (-41.4144732058, -38.2199212909)],
                knots=[0, 0, 0, 0, 0.5571555256, 0.5571555256, 0.5571555256, 0.5571555256], degree=3))
            add(Edge.make_bspline(
                [(-41.4144732058, -38.2199212909), (-41.2213355303, -38.1200686097), (-41.0281978548, -38.0202159286), (-40.8350601792, -37.9203632474)],
                knots=[0, 0, 0, 0, 0.6522687152, 0.6522687152, 0.6522687152, 0.6522687152], degree=3))
            add(Edge.make_bspline(
                [(-40.8350601792, -37.9203632474), (-40.8909072479, -38.3176791171), (-40.9467543165, -38.7149949869), (-41.0026013851, -39.1123108566)],
                knots=[0, 0, 0, 0, 1.2036648864, 1.2036648864, 1.2036648864, 1.2036648864], degree=3))
        make_face()
    extrude(amount=F1_DEPTH)


solid = Compound([f1.part, f1b.part])
